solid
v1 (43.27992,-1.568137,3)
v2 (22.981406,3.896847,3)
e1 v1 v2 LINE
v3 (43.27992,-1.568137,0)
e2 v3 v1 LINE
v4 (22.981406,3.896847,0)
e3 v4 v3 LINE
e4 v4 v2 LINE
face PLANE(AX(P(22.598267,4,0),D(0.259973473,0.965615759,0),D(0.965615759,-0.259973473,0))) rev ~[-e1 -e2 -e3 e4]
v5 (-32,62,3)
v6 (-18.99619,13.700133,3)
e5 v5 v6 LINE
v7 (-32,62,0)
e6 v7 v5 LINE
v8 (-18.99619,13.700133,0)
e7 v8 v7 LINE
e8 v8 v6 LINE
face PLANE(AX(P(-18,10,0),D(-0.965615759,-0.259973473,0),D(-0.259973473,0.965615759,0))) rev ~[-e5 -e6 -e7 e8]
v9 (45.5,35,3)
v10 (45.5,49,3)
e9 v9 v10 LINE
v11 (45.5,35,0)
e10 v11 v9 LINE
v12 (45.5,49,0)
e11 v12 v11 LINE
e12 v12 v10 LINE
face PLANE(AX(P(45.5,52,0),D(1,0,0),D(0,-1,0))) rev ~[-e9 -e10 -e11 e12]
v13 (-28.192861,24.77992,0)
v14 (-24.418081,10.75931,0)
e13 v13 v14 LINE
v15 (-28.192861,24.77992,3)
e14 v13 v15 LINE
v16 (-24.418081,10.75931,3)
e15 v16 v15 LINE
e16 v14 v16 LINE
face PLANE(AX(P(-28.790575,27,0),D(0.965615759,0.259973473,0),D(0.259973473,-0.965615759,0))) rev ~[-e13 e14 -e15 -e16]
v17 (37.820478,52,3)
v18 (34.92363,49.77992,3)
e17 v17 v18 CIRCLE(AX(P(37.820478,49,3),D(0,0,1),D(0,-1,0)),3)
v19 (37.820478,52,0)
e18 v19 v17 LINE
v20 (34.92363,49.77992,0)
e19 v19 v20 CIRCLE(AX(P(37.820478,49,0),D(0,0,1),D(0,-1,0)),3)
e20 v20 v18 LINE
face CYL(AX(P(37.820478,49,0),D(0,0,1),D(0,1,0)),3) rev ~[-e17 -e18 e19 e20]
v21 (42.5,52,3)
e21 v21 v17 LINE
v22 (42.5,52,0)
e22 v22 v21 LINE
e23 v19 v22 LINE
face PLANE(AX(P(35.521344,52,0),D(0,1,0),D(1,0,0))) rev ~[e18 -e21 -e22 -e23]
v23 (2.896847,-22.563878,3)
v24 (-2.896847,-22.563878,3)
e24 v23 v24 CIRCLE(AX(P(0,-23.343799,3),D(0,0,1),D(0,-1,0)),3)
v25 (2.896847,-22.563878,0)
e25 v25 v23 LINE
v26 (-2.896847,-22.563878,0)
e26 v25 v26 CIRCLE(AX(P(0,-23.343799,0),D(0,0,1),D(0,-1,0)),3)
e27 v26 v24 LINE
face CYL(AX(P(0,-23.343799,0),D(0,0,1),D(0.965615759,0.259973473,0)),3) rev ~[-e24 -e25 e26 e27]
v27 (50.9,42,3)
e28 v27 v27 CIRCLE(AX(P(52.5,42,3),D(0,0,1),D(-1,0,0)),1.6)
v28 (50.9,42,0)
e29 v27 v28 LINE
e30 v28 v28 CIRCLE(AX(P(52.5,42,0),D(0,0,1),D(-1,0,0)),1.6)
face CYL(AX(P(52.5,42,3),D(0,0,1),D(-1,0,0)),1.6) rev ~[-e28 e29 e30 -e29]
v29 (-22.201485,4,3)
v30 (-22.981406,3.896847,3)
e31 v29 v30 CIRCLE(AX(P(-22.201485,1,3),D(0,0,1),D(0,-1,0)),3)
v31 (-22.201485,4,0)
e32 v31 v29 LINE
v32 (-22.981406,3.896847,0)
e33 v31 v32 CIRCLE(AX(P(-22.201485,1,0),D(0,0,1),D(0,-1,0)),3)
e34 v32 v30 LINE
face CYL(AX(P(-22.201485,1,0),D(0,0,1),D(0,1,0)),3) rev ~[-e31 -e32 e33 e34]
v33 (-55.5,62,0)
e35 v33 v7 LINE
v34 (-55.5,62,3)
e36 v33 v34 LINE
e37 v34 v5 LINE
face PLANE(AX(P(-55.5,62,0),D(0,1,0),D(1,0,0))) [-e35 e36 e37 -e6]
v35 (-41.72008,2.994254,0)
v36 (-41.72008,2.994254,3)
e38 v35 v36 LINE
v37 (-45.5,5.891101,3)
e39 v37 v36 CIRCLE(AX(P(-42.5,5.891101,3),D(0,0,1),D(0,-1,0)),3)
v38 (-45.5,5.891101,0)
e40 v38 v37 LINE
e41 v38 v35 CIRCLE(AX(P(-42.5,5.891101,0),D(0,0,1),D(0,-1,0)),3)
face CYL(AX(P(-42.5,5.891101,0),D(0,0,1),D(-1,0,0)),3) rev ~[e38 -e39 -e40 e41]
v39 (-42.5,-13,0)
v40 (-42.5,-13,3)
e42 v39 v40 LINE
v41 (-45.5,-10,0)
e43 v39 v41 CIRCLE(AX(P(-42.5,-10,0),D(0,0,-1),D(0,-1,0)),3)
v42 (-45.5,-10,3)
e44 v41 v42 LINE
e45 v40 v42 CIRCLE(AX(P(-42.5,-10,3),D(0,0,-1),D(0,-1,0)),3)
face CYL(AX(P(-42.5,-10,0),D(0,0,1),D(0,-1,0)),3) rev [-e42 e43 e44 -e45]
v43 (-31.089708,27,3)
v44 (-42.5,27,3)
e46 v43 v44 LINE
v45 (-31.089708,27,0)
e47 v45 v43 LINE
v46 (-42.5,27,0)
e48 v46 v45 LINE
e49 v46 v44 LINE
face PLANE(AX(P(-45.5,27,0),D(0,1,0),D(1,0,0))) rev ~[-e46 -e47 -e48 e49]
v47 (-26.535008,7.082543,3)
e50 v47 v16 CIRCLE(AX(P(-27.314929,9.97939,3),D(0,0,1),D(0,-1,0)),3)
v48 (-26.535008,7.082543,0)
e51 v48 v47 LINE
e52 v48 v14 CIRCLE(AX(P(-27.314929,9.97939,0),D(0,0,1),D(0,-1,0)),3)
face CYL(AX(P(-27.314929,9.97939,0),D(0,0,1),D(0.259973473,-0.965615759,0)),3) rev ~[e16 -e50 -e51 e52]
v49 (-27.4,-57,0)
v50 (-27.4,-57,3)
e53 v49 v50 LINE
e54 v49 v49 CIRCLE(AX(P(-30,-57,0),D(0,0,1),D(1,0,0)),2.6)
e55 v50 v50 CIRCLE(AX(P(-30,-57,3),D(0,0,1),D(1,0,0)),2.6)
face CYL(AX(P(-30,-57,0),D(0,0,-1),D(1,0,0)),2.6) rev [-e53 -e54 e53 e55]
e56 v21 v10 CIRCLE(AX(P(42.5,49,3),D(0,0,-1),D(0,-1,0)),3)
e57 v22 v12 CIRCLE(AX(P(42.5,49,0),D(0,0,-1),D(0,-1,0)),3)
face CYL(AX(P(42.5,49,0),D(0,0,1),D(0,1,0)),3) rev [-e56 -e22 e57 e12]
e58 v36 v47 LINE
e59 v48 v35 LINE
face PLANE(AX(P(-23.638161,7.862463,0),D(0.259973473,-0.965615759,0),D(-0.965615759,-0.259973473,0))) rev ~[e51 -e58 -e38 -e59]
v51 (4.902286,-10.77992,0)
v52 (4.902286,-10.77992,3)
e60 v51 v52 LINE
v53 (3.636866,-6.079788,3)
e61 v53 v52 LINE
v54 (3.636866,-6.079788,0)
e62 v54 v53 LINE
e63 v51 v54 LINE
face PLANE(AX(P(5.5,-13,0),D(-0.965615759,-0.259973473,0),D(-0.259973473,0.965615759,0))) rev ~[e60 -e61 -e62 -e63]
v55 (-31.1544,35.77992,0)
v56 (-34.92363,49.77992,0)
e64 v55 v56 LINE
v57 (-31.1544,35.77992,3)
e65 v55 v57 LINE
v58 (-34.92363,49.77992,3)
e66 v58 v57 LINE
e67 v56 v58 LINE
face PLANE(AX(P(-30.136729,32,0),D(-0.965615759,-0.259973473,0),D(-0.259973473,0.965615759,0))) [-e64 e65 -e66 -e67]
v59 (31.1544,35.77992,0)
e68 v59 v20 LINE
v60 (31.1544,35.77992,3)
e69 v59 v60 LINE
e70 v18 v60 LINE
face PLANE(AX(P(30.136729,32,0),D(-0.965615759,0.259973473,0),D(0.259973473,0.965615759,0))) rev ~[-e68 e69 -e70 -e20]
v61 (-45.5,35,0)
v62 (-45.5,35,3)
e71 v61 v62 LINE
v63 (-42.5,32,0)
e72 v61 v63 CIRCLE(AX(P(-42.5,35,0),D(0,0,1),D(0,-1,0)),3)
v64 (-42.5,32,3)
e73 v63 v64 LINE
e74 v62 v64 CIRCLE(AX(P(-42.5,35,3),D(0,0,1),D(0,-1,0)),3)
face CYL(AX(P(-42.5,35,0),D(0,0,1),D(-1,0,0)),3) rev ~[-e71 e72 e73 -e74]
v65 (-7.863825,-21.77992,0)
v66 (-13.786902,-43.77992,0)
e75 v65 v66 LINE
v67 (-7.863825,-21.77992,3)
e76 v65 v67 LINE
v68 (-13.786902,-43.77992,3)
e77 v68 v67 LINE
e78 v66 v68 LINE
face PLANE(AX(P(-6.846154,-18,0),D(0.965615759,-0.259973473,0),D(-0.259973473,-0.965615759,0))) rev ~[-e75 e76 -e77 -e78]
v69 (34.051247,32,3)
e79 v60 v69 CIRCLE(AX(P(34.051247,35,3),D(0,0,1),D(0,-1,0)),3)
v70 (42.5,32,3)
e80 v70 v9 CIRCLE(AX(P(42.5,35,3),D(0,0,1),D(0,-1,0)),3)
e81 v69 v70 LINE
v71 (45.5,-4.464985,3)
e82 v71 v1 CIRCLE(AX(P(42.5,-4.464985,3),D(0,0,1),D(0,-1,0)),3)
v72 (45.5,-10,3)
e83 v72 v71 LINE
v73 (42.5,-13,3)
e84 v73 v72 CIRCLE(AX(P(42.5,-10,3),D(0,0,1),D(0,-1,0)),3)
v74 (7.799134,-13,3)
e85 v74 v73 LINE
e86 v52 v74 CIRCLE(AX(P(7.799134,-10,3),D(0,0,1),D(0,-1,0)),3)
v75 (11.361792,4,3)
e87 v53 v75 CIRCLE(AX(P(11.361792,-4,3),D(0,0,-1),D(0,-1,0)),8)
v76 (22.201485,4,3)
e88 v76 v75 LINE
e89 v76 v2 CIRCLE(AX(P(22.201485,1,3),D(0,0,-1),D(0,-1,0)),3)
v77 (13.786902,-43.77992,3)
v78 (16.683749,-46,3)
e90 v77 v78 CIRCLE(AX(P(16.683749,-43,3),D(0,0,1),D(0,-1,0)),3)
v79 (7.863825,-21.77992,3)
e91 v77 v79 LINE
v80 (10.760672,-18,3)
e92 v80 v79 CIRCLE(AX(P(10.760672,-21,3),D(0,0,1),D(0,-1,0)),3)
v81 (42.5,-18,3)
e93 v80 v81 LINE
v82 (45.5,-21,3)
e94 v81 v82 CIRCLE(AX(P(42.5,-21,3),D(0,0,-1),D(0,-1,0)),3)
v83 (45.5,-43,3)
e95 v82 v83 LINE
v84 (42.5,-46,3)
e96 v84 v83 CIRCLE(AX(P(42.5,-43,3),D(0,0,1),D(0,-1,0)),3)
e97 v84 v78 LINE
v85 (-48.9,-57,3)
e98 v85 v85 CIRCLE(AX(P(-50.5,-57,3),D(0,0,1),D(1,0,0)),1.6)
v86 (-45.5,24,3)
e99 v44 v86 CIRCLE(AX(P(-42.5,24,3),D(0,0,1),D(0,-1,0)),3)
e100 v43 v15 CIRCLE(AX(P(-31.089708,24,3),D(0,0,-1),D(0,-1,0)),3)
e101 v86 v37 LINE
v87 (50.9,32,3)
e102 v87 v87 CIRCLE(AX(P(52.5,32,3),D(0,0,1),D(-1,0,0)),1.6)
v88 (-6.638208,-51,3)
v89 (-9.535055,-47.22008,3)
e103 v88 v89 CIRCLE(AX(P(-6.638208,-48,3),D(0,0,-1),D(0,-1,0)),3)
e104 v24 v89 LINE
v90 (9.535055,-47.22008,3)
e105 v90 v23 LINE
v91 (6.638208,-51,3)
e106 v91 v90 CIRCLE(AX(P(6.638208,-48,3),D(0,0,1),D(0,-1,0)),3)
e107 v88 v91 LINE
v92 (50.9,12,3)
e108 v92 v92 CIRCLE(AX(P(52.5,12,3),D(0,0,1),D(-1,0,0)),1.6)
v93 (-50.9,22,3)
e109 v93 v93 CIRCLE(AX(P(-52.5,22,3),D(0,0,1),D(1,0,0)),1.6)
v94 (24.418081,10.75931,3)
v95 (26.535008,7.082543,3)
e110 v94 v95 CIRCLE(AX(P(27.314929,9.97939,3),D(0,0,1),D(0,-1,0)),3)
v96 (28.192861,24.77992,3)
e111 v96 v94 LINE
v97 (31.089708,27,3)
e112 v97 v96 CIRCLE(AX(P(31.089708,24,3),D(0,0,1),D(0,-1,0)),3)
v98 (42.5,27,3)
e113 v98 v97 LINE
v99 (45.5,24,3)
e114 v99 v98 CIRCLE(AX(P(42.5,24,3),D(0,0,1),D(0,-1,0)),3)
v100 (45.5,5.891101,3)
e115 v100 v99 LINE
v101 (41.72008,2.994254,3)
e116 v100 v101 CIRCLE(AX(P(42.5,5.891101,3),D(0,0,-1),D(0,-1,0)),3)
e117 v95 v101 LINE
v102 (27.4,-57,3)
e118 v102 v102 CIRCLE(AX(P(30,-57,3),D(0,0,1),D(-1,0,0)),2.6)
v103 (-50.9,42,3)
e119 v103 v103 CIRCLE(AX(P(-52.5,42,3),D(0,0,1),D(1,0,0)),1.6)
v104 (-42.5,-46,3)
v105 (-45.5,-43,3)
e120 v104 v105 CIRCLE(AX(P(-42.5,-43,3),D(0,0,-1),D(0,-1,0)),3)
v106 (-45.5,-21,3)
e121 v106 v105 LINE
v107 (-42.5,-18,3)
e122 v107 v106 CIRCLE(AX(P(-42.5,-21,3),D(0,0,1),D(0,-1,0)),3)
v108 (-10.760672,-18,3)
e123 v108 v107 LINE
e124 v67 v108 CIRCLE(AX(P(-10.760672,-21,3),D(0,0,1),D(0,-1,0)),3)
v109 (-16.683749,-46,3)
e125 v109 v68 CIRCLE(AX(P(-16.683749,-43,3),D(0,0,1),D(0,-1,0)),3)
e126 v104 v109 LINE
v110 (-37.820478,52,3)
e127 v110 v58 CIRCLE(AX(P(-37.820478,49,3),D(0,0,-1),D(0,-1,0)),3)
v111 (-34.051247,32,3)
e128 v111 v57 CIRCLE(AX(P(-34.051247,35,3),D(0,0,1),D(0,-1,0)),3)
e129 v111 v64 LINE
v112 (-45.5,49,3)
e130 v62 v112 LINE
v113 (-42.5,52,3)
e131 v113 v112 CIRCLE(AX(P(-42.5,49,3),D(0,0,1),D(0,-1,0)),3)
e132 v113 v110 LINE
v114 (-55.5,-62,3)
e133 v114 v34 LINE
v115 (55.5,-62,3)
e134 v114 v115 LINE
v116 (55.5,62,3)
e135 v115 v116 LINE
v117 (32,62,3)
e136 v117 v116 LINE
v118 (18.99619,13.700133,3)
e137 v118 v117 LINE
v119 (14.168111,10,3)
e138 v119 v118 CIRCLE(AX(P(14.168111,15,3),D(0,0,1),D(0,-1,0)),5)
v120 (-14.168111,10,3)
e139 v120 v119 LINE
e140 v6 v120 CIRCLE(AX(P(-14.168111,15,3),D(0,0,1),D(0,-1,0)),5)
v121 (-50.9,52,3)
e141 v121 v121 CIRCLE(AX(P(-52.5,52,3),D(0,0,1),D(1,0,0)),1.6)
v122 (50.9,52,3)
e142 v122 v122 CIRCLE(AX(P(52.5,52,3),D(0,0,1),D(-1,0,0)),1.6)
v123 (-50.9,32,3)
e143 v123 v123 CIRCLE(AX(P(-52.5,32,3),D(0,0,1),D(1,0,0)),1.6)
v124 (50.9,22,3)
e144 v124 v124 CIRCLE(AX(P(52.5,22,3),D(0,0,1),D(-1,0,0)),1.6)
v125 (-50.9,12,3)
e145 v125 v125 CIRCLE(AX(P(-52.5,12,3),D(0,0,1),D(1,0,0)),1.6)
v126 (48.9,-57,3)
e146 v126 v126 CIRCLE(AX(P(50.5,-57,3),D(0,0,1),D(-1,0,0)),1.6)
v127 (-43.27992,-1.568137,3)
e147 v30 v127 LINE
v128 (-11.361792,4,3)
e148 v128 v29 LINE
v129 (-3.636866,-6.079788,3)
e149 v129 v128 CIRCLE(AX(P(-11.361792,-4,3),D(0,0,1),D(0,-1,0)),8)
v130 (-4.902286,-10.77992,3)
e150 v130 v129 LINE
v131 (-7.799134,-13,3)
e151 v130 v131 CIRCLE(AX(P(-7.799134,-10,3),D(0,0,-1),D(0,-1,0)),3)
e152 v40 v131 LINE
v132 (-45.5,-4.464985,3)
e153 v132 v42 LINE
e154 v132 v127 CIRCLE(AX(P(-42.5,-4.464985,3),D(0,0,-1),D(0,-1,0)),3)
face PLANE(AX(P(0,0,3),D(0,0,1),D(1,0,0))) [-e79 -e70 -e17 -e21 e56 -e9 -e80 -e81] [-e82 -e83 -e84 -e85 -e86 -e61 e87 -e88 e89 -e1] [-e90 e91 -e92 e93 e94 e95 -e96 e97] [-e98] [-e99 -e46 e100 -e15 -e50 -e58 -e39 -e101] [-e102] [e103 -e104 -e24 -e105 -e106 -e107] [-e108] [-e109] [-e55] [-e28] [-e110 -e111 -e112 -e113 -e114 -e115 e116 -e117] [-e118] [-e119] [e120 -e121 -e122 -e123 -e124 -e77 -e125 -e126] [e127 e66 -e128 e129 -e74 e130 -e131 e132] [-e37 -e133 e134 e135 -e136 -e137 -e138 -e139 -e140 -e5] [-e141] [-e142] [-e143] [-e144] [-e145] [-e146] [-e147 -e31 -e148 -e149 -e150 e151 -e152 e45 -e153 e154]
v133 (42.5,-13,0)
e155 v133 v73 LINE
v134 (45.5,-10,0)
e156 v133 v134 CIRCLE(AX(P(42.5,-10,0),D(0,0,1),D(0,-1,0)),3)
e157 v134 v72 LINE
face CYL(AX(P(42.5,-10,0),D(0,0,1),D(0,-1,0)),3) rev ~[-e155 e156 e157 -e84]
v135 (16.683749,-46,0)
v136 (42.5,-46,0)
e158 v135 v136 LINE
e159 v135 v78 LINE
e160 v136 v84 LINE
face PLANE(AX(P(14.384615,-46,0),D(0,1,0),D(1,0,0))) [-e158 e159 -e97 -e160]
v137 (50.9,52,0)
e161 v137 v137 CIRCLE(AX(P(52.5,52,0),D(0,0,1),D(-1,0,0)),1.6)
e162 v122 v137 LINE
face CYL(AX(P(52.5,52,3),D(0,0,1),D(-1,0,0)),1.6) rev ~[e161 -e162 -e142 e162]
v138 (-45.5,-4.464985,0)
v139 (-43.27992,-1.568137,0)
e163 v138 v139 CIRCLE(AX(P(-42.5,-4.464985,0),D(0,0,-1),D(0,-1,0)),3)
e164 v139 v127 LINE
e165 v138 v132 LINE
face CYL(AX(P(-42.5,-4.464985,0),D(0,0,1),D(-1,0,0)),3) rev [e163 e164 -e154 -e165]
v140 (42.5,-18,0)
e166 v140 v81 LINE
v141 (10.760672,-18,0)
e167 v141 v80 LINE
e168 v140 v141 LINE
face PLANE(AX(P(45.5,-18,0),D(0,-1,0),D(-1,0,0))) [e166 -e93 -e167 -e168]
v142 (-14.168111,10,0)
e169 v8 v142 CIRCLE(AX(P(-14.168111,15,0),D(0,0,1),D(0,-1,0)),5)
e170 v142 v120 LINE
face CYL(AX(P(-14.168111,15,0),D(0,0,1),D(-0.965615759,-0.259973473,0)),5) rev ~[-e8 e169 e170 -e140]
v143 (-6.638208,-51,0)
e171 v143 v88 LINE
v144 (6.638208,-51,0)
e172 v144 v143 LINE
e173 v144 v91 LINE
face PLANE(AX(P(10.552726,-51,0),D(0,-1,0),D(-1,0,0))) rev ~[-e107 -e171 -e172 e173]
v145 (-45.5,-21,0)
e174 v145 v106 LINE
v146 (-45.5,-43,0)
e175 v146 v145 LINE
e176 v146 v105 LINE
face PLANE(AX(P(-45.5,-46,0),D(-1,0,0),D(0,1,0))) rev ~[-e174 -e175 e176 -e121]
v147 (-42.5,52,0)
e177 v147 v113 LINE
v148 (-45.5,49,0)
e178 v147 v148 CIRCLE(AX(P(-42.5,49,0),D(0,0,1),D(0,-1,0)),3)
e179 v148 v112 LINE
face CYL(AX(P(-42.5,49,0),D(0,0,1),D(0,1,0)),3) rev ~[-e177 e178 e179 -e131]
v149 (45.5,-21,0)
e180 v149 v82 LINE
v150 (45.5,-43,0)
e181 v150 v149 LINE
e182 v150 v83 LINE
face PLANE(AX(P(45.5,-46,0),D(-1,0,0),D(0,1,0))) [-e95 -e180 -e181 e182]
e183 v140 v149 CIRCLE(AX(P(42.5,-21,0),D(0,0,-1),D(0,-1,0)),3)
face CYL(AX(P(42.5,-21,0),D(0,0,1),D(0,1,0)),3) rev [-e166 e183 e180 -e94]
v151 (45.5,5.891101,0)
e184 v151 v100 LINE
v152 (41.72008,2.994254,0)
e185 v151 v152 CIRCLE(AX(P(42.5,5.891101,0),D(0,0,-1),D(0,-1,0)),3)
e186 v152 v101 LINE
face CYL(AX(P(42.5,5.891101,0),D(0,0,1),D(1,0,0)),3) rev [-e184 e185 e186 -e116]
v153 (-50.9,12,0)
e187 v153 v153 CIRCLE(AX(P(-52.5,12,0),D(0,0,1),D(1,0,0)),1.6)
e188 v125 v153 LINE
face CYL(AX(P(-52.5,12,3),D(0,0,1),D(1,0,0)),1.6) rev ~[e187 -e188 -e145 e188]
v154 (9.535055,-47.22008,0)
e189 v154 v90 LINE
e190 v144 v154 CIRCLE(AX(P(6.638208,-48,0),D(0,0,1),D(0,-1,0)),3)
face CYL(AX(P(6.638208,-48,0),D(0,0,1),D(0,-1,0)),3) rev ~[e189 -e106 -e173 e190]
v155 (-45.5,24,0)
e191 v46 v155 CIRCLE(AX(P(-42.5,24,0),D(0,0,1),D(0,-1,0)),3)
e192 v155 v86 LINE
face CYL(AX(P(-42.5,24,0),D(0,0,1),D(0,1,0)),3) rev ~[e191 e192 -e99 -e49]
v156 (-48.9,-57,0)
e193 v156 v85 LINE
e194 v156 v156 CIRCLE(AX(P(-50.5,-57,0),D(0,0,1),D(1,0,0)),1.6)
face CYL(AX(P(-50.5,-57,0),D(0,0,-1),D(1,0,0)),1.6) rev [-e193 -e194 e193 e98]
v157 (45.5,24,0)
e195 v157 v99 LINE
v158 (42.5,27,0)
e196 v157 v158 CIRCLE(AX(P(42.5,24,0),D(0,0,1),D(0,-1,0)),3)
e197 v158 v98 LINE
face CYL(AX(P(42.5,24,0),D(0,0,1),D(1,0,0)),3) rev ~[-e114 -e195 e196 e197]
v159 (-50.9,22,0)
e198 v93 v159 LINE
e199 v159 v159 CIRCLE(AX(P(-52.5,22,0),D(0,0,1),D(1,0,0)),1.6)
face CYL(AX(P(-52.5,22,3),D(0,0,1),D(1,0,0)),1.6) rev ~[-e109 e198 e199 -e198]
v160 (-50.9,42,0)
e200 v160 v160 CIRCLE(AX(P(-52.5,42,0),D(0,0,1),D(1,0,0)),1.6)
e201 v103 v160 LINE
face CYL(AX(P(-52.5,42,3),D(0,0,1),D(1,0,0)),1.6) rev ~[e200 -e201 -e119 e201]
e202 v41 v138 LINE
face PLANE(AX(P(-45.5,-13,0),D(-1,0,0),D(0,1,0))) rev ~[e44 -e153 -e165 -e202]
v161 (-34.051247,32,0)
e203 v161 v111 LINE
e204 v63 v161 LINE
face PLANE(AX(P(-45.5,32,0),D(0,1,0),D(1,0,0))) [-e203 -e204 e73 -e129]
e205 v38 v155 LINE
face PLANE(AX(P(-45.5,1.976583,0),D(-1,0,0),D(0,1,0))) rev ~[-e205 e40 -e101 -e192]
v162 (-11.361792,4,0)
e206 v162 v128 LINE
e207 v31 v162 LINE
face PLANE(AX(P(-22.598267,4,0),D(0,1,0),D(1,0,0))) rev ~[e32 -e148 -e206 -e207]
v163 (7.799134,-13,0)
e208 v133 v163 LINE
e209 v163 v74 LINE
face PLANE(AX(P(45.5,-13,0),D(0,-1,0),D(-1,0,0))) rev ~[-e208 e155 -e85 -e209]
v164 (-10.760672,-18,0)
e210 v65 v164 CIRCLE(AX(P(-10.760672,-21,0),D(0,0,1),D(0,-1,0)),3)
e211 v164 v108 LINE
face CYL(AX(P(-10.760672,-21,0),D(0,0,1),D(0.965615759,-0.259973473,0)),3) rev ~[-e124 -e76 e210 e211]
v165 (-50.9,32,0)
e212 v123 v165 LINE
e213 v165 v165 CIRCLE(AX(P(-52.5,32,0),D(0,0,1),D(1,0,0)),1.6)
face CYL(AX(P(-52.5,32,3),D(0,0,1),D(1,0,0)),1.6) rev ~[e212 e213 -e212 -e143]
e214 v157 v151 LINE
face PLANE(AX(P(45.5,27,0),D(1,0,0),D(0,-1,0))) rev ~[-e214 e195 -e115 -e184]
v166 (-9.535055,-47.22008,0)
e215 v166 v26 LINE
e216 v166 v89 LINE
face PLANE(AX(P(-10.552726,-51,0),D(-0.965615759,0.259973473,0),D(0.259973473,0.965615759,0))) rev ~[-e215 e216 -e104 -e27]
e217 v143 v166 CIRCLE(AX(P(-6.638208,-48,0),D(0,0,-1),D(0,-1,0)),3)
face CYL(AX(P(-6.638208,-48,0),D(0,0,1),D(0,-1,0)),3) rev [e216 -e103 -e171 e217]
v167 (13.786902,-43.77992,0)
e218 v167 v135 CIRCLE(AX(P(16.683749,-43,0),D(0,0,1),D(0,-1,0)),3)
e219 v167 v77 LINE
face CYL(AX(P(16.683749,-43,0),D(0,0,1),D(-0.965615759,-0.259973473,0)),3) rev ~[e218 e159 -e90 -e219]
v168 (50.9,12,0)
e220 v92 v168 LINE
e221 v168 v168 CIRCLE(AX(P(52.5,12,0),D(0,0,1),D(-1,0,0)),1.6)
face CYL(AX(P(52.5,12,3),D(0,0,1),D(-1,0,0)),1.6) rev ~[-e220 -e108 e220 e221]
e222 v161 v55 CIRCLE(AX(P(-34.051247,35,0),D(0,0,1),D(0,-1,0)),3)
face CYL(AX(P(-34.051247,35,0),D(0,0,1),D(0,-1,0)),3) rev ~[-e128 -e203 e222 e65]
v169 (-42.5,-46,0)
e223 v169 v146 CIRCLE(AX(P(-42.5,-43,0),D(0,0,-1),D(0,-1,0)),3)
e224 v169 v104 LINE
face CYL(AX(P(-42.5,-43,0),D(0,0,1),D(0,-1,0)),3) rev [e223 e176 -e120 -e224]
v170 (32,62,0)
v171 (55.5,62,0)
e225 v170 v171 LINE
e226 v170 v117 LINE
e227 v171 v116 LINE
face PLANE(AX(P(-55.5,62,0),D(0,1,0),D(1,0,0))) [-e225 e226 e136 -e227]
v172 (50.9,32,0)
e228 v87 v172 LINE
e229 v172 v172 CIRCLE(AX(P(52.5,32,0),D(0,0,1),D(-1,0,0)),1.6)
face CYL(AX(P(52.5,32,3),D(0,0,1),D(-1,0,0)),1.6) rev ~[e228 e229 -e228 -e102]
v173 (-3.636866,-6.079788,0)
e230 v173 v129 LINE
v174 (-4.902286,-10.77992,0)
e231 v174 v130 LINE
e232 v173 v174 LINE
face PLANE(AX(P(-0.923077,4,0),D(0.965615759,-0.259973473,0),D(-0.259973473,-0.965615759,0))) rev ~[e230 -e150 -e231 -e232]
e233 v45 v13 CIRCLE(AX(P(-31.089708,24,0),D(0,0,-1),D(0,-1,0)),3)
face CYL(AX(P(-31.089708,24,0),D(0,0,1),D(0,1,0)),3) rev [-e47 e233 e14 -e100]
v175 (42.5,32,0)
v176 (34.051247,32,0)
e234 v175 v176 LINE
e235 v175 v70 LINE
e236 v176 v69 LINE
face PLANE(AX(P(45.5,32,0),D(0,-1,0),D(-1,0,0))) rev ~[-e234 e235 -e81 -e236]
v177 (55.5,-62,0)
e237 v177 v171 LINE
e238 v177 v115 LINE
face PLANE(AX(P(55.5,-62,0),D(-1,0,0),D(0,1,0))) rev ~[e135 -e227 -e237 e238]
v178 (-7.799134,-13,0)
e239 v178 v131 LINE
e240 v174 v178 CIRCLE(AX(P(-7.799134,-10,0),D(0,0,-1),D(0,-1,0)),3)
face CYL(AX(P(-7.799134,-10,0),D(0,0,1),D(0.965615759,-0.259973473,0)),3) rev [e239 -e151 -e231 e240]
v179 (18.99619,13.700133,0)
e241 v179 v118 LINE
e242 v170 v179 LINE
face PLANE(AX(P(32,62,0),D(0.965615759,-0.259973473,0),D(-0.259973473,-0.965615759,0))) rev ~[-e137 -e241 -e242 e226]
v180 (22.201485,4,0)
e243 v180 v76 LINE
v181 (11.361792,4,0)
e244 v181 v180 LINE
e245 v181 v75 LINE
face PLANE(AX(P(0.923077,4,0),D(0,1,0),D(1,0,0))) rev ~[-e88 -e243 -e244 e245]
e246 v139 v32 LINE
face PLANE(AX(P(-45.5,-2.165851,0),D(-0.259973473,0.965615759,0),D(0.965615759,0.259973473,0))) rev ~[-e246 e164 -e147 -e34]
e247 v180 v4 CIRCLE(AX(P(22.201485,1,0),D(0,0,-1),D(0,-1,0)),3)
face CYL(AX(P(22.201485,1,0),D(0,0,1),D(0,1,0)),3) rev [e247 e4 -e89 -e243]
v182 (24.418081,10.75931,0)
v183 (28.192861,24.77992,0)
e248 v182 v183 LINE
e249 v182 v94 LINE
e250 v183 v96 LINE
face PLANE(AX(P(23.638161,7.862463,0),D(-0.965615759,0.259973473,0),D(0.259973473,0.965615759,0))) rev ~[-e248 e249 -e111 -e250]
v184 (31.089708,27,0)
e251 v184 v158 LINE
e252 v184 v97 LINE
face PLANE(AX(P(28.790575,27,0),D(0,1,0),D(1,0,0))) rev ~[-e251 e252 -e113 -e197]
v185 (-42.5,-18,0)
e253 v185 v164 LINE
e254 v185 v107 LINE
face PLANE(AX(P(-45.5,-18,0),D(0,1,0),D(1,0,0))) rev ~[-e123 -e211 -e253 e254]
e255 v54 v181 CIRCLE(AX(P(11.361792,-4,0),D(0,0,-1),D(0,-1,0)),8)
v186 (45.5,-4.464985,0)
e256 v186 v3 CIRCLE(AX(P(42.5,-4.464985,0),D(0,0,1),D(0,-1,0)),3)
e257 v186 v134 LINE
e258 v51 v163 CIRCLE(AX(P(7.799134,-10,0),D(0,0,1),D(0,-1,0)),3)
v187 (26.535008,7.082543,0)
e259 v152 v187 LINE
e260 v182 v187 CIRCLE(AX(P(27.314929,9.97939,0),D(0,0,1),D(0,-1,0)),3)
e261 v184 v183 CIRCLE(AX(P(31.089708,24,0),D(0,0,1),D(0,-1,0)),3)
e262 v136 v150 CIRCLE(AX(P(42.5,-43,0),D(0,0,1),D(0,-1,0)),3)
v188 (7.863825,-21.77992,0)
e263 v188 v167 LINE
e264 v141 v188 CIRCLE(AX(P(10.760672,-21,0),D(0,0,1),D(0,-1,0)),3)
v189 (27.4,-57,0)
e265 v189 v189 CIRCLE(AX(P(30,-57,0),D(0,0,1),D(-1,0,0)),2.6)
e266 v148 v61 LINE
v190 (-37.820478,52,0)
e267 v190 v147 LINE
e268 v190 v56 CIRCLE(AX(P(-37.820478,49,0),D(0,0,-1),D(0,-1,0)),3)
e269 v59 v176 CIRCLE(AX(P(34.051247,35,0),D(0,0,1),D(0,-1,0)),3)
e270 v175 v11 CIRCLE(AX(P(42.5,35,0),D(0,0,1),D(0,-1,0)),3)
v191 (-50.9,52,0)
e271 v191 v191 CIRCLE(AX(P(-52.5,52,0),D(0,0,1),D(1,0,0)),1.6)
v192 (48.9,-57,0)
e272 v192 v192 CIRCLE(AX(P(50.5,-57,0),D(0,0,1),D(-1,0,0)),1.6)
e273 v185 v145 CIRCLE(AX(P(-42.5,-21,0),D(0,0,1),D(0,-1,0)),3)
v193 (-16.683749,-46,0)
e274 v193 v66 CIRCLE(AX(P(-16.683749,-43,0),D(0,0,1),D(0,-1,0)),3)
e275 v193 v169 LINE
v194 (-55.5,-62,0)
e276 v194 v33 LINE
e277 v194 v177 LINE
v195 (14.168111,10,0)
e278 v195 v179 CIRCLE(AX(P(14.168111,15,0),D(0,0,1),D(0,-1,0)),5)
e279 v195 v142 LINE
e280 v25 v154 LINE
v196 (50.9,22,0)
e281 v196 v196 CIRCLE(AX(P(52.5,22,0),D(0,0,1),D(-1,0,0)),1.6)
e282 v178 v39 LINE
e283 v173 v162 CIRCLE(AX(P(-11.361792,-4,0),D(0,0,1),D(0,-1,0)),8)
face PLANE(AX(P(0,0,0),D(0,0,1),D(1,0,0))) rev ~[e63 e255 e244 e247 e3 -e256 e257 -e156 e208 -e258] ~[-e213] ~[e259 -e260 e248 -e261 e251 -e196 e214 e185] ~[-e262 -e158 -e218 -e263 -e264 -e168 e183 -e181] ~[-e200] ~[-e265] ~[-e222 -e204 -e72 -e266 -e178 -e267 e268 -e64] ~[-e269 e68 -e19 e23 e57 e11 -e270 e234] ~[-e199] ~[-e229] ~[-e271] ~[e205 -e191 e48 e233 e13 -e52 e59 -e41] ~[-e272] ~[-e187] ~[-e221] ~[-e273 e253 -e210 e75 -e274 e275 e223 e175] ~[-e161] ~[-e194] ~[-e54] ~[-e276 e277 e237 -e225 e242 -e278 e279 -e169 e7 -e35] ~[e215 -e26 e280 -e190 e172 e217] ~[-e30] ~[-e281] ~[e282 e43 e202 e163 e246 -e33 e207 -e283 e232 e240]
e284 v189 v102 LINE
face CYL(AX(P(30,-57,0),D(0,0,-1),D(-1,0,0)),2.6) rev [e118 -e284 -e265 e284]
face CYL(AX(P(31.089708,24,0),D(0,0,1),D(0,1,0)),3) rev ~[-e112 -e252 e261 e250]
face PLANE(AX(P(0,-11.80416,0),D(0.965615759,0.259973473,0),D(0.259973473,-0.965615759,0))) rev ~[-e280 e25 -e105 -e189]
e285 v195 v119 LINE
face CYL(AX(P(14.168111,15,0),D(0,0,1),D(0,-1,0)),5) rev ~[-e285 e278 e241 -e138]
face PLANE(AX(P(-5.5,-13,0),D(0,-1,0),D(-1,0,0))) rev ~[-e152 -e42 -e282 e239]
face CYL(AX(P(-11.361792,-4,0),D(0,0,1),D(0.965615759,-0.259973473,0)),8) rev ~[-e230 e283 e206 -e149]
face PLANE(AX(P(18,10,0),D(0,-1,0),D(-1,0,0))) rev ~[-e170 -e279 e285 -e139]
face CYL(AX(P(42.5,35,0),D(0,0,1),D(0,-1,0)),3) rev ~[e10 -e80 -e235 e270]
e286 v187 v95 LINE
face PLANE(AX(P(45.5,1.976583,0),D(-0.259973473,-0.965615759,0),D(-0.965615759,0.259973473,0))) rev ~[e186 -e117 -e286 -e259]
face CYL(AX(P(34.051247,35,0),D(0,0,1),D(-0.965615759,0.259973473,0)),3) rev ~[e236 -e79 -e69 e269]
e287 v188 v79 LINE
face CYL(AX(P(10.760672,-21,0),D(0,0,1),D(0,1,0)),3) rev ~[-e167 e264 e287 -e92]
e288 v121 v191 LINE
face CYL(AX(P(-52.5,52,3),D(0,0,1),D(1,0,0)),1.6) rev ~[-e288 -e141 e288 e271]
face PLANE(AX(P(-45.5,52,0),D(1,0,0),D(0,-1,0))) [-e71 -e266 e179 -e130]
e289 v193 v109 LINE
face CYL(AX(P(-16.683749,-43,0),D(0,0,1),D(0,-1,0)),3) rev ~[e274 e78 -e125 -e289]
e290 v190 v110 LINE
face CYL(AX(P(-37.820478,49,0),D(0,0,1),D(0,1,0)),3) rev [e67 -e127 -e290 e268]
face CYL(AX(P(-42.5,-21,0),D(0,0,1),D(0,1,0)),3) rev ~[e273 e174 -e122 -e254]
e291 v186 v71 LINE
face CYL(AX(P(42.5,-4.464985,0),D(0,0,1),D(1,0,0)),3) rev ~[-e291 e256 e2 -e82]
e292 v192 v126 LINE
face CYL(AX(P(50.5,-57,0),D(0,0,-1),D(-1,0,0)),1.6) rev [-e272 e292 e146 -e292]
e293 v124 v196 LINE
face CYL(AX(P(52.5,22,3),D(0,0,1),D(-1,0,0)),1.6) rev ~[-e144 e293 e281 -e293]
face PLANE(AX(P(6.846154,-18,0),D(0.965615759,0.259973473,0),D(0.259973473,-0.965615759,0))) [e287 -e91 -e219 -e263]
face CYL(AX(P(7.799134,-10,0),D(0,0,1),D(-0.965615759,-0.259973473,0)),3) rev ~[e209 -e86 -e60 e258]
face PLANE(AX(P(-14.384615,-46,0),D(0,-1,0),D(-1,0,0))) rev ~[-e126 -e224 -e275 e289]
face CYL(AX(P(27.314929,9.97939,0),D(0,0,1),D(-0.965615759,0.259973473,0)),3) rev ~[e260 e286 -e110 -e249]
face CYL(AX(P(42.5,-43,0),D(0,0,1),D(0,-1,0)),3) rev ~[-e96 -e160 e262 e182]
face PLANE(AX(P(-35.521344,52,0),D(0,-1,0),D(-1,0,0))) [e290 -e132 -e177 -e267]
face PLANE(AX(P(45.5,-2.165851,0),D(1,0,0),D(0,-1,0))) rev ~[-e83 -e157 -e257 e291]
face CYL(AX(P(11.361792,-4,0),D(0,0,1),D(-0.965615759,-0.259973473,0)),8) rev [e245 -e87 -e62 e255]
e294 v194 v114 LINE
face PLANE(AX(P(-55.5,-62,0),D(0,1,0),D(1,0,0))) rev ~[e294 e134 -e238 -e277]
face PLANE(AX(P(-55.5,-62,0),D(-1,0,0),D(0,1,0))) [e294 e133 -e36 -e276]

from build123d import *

# Parameters (mm, degrees)
SKETCH_1_W          = 111
SKETCH_1_H          = 124
SKETCH_1_R          = 2.6
SKETCH_1_R_2        = 1.6
EXTRUDE_1_DEPTH     = 3
SKETCH_2_R          = 1.6
CUT_EXTRUDE_1_DEPTH = 84.266139577
CUT_EXTRUDE_3_DEPTH = 84.266139577
CUT_EXTRUDE_4_DEPTH = 84.266139577
FILLET_1_R          = 8
FILLET_2_R          = 3
FILLET_3_R          = 5


with BuildPart() as part:
    # 草图1 → 凸台-拉伸1 (new body)
    with BuildSketch(Plane.XY):
        Rectangle(SKETCH_1_W, SKETCH_1_H)
        with Locations((-30, -57)):
            Circle(SKETCH_1_R, mode=Mode.SUBTRACT)
        with Locations((-50.5, -57)):
            Circle(SKETCH_1_R_2, mode=Mode.SUBTRACT)
        with Locations(Location((30, -57, 0), (0, 0, 180))):
            Circle(SKETCH_1_R, mode=Mode.SUBTRACT)
        with Locations(Location((50.5, -57, 0), (0, 0, 180))):
            Circle(SKETCH_1_R_2, mode=Mode.SUBTRACT)
    extrude(amount=EXTRUDE_1_DEPTH)

    # 草图2 → 切除-拉伸1 (cut, through all)
    with BuildSketch(Plane.XY.offset(3)):
        with Locations((-52.5, 22)):
            Circle(SKETCH_2_R)
        with Locations((-52.5, 42)):
            Circle(SKETCH_2_R)
        with Locations((-52.5, 32)):
            Circle(SKETCH_2_R)
        with Locations((-52.5, 52)):
            Circle(SKETCH_2_R)
        with Locations((-52.5, 12)):
            Circle(SKETCH_2_R)
        with Locations(Location((52.5, 12, 0), (0, 0, 180))):
            Circle(SKETCH_2_R)
        with Locations(Location((52.5, 52, 0), (0, 0, 180))):
            Circle(SKETCH_2_R)
        with Locations(Location((52.5, 32, 0), (0, 0, 180))):
            Circle(SKETCH_2_R)
        with Locations(Location((52.5, 42, 0), (0, 0, 180))):
            Circle(SKETCH_2_R)
        with Locations(Location((52.5, 22, 0), (0, 0, 180))):
            Circle(SKETCH_2_R)
    extrude(amount=-CUT_EXTRUDE_1_DEPTH, mode=Mode.SUBTRACT)

    # 草图5 → 切除-拉伸3 (cut, through all)
    with BuildSketch(Plane(origin=(0, 0, 0), x_dir=(-1, 0, 0), z_dir=(0, 0, -1))):
        Polygon((-32, 62), (-18, 10), (18, 10), (32, 62), align=None)
    extrude(amount=-CUT_EXTRUDE_3_DEPTH, mode=Mode.SUBTRACT)

    # 草图6 → 切除-拉伸4 (cut, through all)
    with BuildSketch(Plane(origin=(0, 0, 0), x_dir=(-1, 0, 0), z_dir=(0, 0, -1))):
        Polygon((-45.5, 52), (-45.5, 32), (-30.136728624, 32), (-35.521344008, 52), align=None)
        Polygon((-45.5, 1.976583298), (-23.638160979, 7.862463034), (-28.790574777, 27), (-45.5, 27), align=None)
        Polygon((-0.923076923, 4), (-22.598267085, 4), (-45.5, -2.165851169), (-45.5, -13), (-5.5, -13), align=None)
        Polygon((45.5, -2.165851169), (22.598267085, 4), (0.923076923, 4), (5.5, -13), (45.5, -13), align=None)
        Polygon((28.790574777, 27), (23.638160979, 7.862463034), (45.5, 1.976583298), (45.5, 27), align=None)
        Polygon((35.521344008, 52), (45.5, 52), (45.5, 32), (30.136728624, 32), align=None)
        Polygon((45.5, -46), (45.5, -18), (6.846153846, -18), (14.384615385, -46), align=None)
        Polygon((-45.5, -18), (-6.846153846, -18), (-14.384615385, -46), (-45.5, -46), align=None)
        Polygon((10.552726147, -51), (0, -11.804160025), (0, -51), align=None)
        Polygon((0, -51), (0, -11.804160025), (-10.552726147, -51), align=None)
    extrude(amount=-CUT_EXTRUDE_4_DEPTH, mode=Mode.SUBTRACT)

    # 圆角1
    fillet_1_edges = [part.edges().sort_by_distance(p)[0] for p in [
        (0.923076923, 4, 1.5),
        (-0.923076923, 4, 1.5),
    ]]
    fillet(fillet_1_edges, radius=FILLET_1_R)

    # 圆角2
    fillet_2_edges = [part.edges().sort_by_distance(p)[0] for p in [
        (45.5, -2.165851169, 1.5),
        (22.598267085, 4, 1.5),
        (5.5, -13, 1.5),
        (45.5, -13, 1.5),
        (45.5, 1.976583298, 1.5),
        (45.5, 27, 1.5),
        (28.790574777, 27, 1.5),
        (23.638160979, 7.862463034, 1.5),
        (-45.5, 1.976583298, 1.5),
        (-23.638160979, 7.862463034, 1.5),
        (-28.790574777, 27, 1.5),
        (-45.5, 27, 1.5),
        (-45.5, -2.165851169, 1.5),
        (-45.5, -13, 1.5),
        (-5.5, -13, 1.5),
        (-22.598267085, 4, 1.5),
        (45.5, -18, 1.5),
        (6.846153846, -18, 1.5),
        (14.384615385, -46, 1.5),
        (45.5, -46, 1.5),
        (0, -11.804160025, 1.5),
        (-10.552726147, -51, 1.5),
        (10.552726147, -51, 1.5),
        (-45.5, -18, 1.5),
        (-45.5, -46, 1.5),
        (-14.384615385, -46, 1.5),
        (-6.846153846, -18, 1.5),
        (-35.521344008, 52, 1.5),
        (-45.5, 52, 1.5),
        (-45.5, 32, 1.5),
        (-30.136728624, 32, 1.5),
        (45.5, 32, 1.5),
        (45.5, 52, 1.5),
        (35.521344008, 52, 1.5),
        (30.136728624, 32, 1.5),
    ]]
    fillet(fillet_2_edges, radius=FILLET_2_R)

    # 圆角3
    fillet_3_edges = [part.edges().sort_by_distance(p)[0] for p in [
        (-18, 10, 1.5),
        (18, 10, 1.5),
    ]]
    fillet(fillet_3_edges, radius=FILLET_3_R)


solid = part.part
